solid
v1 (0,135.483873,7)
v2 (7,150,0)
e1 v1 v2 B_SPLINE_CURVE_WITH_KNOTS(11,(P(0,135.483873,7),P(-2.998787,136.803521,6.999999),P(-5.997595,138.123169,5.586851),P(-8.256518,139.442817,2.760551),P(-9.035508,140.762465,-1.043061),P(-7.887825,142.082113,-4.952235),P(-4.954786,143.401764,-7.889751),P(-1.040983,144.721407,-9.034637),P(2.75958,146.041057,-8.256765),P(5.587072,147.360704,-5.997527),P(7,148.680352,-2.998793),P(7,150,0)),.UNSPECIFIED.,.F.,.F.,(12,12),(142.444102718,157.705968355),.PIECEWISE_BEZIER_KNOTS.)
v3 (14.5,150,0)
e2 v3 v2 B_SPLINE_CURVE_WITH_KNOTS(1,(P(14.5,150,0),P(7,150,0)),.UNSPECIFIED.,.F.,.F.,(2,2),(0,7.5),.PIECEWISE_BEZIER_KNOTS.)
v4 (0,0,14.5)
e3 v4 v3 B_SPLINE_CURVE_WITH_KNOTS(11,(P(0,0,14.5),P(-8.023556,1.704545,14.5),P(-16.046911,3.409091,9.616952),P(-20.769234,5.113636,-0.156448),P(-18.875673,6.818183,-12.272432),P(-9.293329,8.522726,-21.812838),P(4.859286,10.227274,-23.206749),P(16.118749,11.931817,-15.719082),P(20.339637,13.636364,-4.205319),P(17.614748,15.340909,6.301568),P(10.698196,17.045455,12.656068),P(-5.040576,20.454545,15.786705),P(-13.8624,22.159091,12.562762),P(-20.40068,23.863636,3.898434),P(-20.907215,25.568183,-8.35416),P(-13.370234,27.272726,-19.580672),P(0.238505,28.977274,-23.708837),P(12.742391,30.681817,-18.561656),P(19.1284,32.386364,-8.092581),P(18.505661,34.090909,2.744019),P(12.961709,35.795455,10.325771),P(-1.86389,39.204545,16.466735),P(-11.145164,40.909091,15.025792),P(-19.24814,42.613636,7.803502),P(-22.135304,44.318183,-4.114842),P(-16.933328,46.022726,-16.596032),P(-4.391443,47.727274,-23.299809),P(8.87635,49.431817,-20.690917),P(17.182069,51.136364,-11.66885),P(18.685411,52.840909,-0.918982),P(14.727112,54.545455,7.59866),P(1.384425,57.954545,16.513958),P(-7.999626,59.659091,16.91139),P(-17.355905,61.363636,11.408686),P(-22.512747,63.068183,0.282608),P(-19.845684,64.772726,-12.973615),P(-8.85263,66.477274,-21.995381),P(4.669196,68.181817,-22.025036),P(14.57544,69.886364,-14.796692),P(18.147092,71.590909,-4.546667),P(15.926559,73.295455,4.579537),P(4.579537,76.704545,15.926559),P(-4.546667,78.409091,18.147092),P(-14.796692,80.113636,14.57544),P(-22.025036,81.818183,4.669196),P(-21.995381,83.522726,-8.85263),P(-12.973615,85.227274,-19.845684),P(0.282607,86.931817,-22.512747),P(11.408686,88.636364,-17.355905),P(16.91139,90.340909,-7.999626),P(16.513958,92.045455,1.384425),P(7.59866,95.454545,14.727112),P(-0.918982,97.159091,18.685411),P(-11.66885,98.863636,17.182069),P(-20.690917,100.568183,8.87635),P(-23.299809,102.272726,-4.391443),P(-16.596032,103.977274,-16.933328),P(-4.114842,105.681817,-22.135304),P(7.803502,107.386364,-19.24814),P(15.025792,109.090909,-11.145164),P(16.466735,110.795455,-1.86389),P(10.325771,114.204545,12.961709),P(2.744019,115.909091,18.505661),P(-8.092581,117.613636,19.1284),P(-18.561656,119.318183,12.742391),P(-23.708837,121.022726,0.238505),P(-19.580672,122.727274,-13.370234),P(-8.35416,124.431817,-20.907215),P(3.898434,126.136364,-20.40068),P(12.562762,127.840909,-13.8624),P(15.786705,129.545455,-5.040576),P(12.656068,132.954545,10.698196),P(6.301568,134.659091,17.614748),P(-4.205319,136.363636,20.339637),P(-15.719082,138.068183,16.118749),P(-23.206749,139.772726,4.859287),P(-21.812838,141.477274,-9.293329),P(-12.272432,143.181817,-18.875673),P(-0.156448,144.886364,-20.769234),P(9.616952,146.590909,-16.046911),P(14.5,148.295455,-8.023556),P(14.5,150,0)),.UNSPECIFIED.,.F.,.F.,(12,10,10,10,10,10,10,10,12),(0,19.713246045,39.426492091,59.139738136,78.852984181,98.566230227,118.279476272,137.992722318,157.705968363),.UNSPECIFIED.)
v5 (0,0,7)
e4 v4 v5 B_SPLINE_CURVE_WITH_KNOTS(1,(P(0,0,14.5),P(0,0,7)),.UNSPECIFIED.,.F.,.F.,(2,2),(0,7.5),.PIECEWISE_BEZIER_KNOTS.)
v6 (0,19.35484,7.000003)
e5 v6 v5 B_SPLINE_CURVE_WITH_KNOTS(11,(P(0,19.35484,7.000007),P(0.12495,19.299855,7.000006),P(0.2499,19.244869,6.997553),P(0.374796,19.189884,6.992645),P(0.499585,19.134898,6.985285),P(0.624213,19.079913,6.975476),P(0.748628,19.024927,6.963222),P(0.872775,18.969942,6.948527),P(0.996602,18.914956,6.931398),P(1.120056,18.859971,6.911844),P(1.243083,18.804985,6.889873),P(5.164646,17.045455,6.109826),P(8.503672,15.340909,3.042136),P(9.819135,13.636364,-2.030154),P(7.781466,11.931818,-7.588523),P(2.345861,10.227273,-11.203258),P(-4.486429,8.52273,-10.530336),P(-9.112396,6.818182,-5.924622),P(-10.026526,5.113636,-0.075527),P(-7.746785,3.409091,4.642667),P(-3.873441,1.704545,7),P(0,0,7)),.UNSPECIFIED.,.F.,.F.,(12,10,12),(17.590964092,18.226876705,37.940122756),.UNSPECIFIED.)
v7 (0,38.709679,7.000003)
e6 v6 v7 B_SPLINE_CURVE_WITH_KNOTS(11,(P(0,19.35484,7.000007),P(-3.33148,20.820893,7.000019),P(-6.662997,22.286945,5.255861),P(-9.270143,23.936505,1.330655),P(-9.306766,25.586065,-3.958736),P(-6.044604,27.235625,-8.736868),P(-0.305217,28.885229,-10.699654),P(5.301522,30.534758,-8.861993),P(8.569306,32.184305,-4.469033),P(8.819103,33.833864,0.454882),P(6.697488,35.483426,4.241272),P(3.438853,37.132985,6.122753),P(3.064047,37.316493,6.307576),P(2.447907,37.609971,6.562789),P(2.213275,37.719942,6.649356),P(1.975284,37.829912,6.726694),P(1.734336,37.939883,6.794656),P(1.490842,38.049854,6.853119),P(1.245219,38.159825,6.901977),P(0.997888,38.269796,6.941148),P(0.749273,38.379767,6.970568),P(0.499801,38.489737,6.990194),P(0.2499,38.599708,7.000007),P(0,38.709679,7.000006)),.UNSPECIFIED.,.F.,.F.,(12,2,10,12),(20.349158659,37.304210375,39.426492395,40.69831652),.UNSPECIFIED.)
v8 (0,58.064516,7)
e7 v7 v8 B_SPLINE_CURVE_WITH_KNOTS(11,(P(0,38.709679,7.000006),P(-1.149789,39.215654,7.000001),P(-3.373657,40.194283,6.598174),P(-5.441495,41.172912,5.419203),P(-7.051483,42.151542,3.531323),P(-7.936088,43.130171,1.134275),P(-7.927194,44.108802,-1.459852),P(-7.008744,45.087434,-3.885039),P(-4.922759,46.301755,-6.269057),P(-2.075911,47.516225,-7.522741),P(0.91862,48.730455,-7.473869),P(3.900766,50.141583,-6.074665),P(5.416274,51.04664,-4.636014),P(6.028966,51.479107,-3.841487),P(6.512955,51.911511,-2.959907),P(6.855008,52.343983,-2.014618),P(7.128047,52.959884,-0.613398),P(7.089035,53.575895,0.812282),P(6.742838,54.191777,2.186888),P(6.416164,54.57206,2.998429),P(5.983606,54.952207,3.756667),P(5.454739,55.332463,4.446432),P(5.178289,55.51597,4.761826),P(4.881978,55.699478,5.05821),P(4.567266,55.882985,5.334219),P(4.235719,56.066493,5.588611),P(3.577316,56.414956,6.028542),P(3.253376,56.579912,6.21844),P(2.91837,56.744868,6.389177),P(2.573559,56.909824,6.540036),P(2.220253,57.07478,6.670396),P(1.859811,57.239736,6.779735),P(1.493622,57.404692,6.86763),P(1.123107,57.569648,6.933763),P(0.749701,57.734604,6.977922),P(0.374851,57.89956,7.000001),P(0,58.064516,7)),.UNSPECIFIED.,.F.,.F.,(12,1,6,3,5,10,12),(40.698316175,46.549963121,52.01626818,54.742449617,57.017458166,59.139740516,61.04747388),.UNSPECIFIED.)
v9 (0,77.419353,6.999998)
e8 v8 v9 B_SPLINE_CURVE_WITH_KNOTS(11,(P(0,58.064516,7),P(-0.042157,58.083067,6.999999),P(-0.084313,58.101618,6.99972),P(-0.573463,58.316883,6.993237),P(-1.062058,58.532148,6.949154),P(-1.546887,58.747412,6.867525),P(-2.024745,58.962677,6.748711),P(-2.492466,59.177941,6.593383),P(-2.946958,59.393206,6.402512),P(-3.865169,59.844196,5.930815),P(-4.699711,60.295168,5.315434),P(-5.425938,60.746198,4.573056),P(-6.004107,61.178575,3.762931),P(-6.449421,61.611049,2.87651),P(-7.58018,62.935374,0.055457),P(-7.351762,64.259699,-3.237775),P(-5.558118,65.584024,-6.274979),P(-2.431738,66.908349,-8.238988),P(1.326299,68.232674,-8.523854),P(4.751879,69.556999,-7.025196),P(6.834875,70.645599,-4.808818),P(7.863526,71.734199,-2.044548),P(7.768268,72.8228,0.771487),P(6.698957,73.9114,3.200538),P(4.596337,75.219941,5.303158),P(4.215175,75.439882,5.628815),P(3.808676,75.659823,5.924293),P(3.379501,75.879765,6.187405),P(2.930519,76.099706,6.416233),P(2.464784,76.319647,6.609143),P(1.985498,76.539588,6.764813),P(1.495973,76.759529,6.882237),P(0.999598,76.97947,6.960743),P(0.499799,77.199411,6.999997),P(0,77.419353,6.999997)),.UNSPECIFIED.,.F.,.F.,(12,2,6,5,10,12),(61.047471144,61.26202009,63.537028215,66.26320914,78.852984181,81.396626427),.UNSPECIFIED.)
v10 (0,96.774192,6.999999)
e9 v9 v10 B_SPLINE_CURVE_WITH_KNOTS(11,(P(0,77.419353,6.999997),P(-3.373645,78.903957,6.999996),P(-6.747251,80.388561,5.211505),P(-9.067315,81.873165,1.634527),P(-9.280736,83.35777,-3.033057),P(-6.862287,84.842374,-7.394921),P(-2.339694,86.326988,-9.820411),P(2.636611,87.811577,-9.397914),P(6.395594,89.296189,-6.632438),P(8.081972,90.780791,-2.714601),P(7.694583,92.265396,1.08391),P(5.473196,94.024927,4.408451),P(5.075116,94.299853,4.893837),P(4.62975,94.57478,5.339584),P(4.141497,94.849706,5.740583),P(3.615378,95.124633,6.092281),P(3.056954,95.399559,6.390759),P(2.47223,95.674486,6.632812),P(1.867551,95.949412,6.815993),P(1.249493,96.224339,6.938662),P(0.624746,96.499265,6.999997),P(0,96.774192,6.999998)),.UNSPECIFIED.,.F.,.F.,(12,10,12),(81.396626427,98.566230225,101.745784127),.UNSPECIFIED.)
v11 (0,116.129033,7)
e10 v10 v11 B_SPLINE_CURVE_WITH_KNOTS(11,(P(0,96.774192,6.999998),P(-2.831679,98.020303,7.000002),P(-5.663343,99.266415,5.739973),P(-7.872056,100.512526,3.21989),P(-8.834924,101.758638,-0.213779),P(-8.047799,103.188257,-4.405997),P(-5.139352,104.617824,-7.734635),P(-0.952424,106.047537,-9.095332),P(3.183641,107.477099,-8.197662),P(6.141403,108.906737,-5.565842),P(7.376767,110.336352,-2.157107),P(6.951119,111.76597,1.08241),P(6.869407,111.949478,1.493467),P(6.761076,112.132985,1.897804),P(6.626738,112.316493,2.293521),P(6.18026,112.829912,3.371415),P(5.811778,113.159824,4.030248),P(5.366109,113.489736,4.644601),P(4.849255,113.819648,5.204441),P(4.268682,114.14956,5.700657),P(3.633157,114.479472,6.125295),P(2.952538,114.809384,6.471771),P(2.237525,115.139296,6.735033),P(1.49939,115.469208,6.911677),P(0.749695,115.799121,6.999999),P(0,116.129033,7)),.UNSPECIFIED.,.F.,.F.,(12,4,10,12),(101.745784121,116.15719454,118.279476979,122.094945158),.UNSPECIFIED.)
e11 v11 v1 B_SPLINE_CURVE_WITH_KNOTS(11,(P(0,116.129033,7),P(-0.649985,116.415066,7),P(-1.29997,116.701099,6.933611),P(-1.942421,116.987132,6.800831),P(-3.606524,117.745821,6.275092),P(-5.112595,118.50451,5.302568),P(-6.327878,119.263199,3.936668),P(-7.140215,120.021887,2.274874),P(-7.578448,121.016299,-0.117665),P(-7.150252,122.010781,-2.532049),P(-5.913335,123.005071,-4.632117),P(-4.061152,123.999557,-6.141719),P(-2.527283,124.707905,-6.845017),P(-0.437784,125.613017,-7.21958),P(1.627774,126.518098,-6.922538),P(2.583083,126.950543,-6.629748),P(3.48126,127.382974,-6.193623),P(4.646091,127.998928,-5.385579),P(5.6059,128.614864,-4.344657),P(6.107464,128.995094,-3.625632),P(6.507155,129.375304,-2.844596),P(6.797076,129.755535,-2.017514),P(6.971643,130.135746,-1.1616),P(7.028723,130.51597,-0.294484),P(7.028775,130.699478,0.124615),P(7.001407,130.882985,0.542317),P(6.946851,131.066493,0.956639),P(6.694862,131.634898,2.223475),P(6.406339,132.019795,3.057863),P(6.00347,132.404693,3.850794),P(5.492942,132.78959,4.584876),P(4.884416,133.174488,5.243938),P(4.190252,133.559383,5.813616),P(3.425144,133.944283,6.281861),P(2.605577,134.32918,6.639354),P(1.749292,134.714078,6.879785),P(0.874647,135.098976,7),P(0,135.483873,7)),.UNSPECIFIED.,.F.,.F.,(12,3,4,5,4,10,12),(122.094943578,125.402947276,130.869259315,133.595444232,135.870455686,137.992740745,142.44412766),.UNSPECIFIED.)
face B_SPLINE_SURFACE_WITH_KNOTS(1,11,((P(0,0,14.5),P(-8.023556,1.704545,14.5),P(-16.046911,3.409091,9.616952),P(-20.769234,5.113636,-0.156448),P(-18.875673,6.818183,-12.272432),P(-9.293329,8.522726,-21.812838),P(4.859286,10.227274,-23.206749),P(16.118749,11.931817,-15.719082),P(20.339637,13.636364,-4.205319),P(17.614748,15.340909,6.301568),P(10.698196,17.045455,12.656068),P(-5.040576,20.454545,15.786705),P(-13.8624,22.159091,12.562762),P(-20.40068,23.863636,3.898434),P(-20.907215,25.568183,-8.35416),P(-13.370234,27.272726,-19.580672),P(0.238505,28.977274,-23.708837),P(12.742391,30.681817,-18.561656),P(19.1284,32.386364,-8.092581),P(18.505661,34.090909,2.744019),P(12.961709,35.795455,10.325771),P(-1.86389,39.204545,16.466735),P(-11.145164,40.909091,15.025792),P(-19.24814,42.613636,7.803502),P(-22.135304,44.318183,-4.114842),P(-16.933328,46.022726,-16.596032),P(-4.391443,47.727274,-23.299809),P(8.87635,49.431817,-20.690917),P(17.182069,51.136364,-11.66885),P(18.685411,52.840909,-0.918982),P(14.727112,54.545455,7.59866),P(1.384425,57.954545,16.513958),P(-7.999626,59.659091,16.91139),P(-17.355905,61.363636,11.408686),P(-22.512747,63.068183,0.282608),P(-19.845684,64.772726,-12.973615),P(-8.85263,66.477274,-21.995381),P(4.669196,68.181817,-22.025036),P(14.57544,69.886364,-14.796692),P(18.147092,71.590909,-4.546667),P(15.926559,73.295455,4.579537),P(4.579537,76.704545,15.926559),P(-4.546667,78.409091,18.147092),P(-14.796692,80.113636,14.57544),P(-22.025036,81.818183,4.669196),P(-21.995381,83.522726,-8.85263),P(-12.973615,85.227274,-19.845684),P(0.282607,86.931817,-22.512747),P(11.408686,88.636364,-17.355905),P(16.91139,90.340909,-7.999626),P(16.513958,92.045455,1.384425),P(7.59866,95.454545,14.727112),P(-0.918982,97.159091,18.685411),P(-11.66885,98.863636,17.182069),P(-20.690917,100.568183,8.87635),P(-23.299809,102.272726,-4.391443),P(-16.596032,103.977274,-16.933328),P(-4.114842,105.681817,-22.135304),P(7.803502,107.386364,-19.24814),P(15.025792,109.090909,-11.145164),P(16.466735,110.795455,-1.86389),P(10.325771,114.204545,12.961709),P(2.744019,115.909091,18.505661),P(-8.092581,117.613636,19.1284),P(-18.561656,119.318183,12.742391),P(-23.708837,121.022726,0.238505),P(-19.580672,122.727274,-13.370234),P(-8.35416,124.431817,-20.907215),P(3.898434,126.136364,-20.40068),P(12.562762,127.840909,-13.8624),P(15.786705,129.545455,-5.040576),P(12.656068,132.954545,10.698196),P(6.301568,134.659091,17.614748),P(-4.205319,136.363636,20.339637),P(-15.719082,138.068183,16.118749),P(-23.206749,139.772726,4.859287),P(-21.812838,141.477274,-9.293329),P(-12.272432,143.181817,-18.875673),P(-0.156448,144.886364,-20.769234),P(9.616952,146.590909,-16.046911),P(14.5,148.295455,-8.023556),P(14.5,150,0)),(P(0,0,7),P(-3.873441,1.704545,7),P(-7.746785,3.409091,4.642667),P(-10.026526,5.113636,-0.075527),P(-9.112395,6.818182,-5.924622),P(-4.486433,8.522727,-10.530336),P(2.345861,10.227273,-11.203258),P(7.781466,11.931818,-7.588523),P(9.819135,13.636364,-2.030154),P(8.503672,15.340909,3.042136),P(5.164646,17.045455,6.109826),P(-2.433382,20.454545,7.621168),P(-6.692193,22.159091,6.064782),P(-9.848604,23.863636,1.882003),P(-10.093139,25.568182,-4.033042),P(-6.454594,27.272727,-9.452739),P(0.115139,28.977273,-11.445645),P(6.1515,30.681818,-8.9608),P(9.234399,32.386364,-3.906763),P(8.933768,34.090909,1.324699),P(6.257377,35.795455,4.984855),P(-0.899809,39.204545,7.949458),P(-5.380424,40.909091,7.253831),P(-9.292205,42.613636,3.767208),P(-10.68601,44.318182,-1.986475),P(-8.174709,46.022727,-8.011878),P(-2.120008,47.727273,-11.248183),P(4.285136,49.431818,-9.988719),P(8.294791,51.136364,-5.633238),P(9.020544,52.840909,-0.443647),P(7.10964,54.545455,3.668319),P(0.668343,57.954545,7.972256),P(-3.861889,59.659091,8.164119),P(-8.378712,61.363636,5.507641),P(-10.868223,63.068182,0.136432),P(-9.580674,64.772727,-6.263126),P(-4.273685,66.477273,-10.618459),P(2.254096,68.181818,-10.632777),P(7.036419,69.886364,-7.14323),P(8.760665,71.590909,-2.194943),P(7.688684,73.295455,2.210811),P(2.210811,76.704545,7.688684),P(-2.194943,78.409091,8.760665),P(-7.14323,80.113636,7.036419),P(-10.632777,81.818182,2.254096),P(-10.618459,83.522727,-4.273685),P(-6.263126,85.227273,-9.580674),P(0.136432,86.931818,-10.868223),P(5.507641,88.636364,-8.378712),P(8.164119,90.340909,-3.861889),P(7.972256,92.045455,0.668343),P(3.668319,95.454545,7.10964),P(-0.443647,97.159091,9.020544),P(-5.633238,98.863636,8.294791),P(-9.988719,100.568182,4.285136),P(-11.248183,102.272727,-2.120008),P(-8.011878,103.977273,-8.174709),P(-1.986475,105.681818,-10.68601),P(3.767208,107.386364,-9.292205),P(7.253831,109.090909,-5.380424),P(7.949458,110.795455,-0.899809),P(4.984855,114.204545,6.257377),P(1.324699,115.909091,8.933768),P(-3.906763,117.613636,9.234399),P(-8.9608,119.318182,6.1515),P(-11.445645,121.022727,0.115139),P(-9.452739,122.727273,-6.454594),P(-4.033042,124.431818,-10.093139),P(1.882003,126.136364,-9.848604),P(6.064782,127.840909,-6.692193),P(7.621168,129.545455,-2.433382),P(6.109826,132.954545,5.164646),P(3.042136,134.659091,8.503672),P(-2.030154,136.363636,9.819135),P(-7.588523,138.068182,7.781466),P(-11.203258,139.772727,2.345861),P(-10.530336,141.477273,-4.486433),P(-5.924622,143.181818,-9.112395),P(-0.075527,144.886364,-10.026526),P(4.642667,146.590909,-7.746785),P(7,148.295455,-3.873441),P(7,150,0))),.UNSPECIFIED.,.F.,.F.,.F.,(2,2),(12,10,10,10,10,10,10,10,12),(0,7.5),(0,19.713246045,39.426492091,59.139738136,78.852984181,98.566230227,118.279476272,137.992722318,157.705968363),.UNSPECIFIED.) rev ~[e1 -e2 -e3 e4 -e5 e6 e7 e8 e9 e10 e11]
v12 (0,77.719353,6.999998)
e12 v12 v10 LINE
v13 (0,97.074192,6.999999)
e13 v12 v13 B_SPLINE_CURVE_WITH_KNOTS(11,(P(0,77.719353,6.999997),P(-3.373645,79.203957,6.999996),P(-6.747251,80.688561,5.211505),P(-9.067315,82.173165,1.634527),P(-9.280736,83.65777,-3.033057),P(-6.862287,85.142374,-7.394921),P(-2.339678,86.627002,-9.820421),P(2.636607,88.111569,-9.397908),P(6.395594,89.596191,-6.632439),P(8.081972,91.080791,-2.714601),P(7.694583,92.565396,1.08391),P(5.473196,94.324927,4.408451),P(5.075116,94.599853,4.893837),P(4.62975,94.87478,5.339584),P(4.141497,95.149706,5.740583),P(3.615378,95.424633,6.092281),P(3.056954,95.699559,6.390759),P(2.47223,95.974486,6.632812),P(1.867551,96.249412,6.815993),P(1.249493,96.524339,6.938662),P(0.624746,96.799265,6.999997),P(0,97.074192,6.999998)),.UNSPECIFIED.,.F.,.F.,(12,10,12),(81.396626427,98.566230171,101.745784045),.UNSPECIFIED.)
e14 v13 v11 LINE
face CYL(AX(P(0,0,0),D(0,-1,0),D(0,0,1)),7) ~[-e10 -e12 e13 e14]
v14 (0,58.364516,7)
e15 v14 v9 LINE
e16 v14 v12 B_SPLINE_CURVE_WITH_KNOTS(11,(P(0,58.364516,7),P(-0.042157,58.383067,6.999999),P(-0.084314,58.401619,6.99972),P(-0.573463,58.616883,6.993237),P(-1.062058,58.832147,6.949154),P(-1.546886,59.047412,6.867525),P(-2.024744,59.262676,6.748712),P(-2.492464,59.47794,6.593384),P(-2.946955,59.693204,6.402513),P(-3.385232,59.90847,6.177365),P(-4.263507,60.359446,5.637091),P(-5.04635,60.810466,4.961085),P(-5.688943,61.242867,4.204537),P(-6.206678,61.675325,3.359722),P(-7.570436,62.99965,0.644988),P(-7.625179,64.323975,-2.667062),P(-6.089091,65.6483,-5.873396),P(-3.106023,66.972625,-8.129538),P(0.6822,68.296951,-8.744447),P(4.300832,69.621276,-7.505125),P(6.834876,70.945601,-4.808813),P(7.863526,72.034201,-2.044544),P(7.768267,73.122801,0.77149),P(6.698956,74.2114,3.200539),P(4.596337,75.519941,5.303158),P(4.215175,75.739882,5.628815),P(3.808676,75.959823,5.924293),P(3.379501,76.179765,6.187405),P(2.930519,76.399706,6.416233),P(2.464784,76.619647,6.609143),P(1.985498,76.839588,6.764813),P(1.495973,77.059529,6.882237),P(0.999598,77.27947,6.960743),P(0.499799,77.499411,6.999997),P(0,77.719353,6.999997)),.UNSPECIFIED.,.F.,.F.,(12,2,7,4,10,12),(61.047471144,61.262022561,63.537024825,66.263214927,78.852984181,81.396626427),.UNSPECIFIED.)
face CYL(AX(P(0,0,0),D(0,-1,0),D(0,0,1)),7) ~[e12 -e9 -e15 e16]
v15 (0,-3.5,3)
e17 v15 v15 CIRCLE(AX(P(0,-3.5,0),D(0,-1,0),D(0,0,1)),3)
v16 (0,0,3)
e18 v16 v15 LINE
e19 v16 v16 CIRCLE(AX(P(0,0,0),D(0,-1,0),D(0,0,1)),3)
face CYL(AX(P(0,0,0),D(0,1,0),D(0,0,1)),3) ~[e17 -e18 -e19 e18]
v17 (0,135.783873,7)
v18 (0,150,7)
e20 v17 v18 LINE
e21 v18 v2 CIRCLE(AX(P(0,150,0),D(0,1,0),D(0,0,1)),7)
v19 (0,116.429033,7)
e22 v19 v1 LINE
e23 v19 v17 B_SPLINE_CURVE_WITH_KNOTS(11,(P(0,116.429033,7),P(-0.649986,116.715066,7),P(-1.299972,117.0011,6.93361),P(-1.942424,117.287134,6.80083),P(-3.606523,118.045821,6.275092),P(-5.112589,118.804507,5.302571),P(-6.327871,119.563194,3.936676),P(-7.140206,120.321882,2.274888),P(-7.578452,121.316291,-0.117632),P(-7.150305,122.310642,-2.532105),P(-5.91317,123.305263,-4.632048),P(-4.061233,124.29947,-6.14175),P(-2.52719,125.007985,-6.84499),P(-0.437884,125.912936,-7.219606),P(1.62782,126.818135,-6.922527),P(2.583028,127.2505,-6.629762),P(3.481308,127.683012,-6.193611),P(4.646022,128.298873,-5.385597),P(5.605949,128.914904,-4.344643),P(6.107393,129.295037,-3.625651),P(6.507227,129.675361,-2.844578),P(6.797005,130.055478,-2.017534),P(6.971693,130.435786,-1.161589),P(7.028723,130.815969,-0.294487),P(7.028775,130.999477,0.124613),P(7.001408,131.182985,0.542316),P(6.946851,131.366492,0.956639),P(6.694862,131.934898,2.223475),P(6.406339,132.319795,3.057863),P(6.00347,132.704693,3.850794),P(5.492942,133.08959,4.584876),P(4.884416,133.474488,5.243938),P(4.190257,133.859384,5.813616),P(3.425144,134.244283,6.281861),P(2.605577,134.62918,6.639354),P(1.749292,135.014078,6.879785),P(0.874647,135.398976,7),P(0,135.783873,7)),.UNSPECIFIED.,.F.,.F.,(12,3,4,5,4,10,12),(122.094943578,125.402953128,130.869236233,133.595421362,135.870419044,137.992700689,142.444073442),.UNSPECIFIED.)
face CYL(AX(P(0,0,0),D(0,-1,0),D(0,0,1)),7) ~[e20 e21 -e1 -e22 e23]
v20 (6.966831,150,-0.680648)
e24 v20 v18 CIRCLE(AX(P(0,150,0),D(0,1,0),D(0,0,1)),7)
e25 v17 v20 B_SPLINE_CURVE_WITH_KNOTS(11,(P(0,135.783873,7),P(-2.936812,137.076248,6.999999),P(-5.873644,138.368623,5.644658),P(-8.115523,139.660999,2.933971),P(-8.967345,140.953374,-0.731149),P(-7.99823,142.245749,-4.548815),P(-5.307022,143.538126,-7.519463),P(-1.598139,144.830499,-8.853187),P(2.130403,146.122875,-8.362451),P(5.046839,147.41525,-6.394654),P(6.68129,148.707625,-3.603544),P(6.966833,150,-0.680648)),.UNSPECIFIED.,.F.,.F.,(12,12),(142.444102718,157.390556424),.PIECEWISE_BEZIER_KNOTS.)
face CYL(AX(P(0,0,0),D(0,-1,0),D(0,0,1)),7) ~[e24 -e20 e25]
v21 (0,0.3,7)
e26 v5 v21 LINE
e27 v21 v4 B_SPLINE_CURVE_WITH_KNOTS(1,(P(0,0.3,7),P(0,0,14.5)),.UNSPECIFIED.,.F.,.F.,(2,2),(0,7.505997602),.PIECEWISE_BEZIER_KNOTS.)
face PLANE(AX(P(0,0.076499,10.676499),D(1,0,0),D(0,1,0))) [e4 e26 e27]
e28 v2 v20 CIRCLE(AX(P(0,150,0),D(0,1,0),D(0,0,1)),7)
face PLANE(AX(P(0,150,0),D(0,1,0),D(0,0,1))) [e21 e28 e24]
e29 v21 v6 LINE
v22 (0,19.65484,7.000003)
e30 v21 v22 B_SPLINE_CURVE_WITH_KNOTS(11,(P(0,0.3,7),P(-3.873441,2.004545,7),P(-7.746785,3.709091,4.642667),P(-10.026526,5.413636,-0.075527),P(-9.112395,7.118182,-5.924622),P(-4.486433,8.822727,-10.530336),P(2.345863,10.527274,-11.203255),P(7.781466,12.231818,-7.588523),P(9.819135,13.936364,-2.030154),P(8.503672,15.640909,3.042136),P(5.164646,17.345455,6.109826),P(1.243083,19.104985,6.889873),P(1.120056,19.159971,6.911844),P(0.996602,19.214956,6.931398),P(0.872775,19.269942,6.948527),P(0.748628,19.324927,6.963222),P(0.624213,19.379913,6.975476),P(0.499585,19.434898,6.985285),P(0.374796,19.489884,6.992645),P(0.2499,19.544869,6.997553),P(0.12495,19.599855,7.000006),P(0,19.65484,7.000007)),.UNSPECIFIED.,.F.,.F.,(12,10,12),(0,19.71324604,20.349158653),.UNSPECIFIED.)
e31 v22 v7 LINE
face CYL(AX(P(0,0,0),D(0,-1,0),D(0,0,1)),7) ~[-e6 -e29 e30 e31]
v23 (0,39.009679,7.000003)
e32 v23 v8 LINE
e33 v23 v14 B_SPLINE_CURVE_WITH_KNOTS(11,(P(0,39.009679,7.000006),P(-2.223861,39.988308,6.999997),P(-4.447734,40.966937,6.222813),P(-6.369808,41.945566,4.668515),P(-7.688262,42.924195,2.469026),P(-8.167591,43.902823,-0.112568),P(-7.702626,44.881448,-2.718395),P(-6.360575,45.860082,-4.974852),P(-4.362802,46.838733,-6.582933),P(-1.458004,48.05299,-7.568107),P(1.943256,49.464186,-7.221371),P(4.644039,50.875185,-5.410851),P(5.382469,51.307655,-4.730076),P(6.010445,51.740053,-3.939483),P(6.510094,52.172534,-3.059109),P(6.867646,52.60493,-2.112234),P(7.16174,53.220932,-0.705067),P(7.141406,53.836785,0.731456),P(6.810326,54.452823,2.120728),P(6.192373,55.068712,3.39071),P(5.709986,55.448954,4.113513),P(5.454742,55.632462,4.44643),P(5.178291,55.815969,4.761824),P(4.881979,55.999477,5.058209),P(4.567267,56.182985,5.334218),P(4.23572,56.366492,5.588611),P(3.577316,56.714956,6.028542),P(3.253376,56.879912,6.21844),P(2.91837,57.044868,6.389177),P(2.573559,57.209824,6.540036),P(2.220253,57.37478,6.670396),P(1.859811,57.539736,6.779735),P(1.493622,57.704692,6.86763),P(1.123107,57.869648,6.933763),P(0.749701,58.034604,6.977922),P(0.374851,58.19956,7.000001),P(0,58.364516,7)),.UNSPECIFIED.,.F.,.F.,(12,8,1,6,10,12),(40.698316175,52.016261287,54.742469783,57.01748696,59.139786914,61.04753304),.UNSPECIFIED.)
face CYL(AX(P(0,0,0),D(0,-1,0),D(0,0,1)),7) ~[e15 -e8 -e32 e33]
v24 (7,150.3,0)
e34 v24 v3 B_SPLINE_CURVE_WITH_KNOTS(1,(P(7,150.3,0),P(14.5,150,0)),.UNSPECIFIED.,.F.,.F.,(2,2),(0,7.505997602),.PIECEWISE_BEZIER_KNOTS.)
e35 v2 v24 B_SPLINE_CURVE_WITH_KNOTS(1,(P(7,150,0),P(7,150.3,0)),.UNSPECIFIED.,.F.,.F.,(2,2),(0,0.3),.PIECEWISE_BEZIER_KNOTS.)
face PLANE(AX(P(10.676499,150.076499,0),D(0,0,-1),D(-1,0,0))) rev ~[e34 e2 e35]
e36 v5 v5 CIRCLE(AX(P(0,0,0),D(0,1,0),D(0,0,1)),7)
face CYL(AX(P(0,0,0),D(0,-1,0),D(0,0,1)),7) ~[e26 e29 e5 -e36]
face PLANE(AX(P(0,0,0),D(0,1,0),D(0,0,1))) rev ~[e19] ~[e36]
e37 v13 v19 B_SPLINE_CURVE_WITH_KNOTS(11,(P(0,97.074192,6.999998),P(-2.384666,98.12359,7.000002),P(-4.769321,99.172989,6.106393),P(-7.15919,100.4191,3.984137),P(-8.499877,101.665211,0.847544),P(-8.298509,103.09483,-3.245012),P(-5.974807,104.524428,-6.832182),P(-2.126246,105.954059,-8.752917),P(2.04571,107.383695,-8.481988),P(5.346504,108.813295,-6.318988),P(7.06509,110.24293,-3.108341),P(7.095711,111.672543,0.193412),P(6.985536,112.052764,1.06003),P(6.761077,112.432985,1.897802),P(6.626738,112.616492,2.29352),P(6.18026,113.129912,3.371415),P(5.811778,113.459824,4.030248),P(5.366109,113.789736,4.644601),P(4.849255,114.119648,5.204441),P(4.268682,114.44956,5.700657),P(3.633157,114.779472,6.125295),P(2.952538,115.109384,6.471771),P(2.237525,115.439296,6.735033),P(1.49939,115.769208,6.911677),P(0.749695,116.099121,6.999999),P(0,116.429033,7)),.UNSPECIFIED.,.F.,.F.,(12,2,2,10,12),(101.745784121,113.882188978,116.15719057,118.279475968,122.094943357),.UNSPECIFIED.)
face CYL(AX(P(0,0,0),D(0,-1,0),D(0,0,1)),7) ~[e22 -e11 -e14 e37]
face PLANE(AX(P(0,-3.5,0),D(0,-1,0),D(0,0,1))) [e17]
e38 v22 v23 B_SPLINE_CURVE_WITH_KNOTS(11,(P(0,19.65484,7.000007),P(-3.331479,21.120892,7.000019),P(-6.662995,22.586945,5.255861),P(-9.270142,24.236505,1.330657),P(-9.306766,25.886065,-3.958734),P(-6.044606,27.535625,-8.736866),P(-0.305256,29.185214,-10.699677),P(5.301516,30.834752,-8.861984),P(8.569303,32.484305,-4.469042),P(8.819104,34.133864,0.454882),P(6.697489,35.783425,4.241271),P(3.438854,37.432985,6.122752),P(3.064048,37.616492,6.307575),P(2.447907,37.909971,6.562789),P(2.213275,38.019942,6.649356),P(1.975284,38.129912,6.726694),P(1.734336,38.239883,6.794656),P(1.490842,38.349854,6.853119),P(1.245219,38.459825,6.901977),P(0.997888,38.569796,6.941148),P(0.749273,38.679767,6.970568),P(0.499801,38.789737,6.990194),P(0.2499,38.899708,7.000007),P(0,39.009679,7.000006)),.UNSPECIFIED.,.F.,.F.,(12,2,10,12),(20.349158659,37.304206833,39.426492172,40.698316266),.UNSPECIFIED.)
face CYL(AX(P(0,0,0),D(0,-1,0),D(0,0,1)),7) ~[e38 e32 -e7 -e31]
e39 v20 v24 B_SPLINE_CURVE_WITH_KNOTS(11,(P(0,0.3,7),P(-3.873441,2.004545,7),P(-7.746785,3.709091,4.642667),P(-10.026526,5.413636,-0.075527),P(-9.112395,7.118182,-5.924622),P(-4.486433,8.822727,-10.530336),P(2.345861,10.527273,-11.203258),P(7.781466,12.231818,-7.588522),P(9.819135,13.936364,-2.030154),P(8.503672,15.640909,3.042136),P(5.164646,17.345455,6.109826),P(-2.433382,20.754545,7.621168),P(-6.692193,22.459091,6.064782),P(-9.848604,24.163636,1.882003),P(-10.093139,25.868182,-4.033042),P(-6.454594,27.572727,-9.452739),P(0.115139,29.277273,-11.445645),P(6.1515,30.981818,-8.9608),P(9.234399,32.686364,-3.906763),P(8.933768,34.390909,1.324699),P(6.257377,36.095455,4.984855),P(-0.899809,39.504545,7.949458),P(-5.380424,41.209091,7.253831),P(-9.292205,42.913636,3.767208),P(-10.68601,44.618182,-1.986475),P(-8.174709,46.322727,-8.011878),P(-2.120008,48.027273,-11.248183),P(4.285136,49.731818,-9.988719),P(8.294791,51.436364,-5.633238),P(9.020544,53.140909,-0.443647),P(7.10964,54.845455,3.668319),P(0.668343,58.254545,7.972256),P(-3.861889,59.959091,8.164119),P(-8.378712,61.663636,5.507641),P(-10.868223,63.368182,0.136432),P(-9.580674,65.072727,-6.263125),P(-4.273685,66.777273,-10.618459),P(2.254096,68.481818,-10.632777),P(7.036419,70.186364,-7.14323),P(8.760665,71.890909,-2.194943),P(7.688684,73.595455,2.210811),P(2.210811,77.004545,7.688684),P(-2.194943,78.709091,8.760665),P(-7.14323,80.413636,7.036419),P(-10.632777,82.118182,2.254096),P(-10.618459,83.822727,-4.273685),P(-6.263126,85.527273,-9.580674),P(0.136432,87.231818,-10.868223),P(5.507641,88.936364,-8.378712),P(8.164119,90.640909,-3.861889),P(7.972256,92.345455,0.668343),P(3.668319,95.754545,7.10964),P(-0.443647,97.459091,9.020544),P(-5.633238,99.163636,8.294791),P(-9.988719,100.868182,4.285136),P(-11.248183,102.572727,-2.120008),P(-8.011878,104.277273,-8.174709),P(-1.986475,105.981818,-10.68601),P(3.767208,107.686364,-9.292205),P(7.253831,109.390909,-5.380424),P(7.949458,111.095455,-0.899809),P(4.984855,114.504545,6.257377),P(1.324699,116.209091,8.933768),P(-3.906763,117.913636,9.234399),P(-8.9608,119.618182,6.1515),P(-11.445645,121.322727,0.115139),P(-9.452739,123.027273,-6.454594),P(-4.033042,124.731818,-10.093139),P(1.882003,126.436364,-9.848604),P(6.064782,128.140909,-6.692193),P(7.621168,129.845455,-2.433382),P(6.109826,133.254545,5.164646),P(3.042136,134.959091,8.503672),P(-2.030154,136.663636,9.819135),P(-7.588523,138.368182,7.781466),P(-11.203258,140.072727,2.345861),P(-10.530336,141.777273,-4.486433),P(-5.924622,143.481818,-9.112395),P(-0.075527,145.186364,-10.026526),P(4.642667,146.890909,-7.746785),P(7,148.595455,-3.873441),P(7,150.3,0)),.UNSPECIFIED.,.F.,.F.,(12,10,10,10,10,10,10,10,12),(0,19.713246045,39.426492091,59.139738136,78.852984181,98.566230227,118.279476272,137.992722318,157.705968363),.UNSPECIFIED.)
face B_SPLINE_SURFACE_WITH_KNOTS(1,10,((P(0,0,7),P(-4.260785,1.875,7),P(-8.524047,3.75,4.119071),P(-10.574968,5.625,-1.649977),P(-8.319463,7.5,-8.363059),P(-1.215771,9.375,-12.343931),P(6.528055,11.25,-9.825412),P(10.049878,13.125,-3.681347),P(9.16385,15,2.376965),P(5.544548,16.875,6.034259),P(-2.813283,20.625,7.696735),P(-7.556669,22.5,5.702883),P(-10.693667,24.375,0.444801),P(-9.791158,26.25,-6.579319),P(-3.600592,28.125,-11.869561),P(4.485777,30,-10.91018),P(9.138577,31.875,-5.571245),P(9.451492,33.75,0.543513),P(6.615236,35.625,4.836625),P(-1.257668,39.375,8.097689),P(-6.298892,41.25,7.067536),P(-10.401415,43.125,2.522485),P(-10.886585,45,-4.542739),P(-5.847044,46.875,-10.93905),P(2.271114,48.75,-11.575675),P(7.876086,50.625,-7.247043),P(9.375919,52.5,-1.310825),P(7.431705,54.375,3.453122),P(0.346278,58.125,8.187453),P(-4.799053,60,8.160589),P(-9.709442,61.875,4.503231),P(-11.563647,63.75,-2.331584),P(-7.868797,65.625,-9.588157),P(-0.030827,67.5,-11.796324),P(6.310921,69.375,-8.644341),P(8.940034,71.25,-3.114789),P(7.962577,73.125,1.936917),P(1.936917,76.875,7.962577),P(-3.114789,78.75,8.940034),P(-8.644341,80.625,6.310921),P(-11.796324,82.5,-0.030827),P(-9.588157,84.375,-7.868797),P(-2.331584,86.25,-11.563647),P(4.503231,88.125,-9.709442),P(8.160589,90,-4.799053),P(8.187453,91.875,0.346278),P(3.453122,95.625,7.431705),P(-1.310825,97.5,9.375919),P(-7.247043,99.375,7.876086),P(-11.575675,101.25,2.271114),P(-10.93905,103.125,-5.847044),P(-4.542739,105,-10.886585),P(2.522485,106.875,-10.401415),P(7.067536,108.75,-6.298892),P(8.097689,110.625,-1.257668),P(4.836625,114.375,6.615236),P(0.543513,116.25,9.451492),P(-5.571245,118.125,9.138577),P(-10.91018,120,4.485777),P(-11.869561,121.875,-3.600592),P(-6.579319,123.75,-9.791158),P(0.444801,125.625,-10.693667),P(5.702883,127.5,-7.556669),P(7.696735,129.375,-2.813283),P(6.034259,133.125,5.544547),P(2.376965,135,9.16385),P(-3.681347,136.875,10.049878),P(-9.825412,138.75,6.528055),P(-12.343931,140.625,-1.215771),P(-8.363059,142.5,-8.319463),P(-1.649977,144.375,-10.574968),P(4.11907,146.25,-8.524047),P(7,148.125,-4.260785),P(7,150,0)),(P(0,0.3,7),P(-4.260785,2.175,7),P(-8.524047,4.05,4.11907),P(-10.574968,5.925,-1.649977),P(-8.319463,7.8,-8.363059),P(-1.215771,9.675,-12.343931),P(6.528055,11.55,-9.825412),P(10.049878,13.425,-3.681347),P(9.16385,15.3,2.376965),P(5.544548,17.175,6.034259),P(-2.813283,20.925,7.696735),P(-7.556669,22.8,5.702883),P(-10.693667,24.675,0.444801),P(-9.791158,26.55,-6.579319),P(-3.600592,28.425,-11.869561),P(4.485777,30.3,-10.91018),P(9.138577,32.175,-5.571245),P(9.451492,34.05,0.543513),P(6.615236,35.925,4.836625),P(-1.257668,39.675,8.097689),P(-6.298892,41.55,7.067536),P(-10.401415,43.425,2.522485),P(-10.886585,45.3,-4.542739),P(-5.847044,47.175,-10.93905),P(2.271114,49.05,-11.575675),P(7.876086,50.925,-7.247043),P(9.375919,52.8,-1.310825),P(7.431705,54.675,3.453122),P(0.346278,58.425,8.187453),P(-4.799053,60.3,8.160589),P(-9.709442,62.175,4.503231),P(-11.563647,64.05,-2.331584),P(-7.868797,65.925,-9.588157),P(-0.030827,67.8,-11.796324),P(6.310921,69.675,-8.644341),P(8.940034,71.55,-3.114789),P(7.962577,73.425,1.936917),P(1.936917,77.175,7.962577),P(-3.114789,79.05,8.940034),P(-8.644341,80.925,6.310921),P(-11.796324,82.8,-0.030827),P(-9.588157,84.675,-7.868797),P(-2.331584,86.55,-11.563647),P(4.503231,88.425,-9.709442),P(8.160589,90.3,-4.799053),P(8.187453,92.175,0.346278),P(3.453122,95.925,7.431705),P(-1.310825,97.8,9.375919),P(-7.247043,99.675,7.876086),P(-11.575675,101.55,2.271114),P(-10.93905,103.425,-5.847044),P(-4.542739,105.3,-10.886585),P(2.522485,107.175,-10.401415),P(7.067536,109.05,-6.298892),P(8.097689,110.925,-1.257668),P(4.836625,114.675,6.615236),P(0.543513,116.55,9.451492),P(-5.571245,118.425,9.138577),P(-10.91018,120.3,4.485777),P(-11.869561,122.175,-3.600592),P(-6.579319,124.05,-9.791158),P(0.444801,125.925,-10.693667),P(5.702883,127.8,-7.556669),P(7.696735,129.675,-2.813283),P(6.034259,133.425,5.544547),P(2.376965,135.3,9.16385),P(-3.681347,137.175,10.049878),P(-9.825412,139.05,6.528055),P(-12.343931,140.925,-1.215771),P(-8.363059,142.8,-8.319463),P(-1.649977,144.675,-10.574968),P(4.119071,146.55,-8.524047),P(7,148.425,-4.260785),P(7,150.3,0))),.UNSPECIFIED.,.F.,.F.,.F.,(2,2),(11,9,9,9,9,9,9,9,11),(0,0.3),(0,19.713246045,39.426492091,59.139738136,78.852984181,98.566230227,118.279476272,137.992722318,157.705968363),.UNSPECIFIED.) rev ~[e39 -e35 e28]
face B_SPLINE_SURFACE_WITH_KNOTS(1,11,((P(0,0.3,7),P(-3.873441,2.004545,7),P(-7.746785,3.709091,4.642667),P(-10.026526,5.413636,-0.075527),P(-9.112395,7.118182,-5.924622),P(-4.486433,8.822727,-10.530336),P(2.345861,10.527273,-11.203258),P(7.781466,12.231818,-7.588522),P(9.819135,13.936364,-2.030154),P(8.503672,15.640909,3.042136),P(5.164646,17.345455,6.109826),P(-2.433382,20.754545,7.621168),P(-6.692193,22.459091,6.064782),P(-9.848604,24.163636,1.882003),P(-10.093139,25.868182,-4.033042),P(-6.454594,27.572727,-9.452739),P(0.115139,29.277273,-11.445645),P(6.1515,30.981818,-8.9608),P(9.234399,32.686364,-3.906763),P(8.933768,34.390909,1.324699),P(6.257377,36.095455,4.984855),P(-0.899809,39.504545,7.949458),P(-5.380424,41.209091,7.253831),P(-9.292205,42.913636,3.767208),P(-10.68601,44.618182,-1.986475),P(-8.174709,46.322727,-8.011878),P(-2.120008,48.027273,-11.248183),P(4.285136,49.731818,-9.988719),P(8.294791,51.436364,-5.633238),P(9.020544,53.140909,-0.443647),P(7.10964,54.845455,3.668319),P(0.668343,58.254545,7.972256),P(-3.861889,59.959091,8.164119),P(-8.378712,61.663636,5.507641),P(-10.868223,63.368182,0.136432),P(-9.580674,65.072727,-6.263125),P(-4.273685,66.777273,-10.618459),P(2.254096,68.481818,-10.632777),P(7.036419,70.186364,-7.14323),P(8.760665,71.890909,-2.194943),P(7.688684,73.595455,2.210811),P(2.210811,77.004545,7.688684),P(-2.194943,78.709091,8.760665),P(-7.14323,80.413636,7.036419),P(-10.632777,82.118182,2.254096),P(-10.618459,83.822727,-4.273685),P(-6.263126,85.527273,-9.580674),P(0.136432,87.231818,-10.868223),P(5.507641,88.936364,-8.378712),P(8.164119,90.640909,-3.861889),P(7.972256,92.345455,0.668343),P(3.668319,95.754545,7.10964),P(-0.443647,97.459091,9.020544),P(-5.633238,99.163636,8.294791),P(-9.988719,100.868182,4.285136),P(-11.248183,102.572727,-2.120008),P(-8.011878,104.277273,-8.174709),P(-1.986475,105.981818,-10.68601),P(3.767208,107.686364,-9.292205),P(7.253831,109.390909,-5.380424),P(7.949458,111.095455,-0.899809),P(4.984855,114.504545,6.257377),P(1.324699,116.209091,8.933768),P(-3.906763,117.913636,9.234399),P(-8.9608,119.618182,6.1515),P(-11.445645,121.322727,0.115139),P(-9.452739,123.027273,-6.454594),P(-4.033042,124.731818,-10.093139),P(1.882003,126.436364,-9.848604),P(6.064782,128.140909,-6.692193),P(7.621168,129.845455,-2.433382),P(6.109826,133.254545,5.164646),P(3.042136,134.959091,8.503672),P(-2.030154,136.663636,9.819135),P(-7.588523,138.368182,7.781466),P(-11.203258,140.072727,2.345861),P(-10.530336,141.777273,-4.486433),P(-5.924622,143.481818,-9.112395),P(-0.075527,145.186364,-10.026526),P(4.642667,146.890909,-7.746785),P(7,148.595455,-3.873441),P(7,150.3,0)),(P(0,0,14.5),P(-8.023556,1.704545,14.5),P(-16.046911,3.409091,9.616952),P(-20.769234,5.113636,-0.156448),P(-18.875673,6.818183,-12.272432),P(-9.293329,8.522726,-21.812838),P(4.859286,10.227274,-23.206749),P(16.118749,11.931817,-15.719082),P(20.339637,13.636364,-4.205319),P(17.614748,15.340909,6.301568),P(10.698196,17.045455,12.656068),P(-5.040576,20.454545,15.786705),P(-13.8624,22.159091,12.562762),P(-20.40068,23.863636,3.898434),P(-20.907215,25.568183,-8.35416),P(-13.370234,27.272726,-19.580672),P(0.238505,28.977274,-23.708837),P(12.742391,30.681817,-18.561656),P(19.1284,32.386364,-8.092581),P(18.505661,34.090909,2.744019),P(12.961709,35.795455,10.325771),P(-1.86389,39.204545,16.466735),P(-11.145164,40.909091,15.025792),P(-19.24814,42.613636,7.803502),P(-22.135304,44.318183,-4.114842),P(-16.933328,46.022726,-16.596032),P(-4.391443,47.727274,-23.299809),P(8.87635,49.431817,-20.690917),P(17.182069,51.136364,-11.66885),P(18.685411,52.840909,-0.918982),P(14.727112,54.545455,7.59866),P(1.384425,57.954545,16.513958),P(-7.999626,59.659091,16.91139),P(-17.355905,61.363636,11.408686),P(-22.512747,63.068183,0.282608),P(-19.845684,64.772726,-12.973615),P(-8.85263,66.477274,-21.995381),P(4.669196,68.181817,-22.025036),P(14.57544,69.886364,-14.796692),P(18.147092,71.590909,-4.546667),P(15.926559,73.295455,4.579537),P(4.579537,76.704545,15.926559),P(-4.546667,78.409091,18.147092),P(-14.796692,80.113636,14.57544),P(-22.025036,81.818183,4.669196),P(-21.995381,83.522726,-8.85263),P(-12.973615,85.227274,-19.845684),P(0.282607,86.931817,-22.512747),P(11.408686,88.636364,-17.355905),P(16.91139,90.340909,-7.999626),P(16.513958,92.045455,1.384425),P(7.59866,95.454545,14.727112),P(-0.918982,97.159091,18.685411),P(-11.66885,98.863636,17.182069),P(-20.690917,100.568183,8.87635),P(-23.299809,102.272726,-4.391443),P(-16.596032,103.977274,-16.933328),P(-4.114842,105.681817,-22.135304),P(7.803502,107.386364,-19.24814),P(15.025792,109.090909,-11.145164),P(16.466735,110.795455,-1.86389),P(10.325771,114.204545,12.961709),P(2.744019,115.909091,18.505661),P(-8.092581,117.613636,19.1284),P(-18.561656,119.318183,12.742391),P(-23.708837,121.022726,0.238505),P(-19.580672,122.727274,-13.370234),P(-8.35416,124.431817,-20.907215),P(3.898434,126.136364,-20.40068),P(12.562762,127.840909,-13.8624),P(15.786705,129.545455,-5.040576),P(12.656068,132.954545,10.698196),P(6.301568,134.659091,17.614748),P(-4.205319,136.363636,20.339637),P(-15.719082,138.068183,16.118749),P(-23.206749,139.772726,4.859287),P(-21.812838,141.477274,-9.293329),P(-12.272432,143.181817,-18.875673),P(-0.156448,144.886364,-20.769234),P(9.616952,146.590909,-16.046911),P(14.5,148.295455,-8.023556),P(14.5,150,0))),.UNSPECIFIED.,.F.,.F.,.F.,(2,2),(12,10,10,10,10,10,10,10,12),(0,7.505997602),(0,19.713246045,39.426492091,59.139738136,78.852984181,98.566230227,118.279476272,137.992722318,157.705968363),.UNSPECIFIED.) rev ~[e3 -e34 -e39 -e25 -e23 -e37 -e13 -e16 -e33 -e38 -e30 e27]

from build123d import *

# Parameters (mm, degrees)
SKETCH_1_R          = 7
EXTRUDE_1_DEPTH     = 150
SWEEP_2_PITCH       = 19.35483871
SWEEP_2_HEIGHT      = 150
SWEEP_2_RADIUS      = 7
SKETCH_8_R          = 3
EXTRUDE_2_DEPTH     = 5
CUT_EXTRUDE_START   = -1.5
SKETCH_9_R          = 3
CUT_EXTRUDE_1_DEPTH = 1.5


with BuildPart() as part:
    # 草圖1 → 填料-伸長1 (new body)
    with BuildSketch(Plane(origin=(0, 0, 0), x_dir=(1, 0, 0), z_dir=(0, 1, 0))):
        with Locations(Location((0, 0, 0), (0, 0, 270))):
            Circle(SKETCH_1_R)
    extrude(amount=EXTRUDE_1_DEPTH)

    # 掃出2: sweep along a helix
    with BuildLine() as sweep_2_path:
        Helix(SWEEP_2_PITCH, SWEEP_2_HEIGHT, SWEEP_2_RADIUS, center=(0, 0, 0), direction=(0, 1, 0), lefthand=True)
    # 草圖4 → 掃出2 (sweep)
    with BuildSketch(Plane(origin=(0, 0, 0), x_dir=(0, 0, -1), z_dir=(1, 0, 0))):
        Polygon((-7, 0.3), (-14.5, 0), (-7, 0), align=None)
    sweep(path=sweep_2_path.line, is_frenet=True)

    # 草圖8 → 填料-伸長2 (add)
    with BuildSketch(Plane.XZ):
        with Locations(Location((0, 0, 0), (0, 0, 90))):
            Circle(SKETCH_8_R)
    extrude(amount=EXTRUDE_2_DEPTH)

    # 草圖9 → 除料-伸長1 (cut)
    with BuildSketch(Plane.XZ.offset(5).offset(CUT_EXTRUDE_START)):
        with Locations(Location((0, 0, 0), (0, 0, 90))):
            Circle(SKETCH_9_R)
    extrude(amount=CUT_EXTRUDE_1_DEPTH, mode=Mode.SUBTRACT)


solid = part.part
